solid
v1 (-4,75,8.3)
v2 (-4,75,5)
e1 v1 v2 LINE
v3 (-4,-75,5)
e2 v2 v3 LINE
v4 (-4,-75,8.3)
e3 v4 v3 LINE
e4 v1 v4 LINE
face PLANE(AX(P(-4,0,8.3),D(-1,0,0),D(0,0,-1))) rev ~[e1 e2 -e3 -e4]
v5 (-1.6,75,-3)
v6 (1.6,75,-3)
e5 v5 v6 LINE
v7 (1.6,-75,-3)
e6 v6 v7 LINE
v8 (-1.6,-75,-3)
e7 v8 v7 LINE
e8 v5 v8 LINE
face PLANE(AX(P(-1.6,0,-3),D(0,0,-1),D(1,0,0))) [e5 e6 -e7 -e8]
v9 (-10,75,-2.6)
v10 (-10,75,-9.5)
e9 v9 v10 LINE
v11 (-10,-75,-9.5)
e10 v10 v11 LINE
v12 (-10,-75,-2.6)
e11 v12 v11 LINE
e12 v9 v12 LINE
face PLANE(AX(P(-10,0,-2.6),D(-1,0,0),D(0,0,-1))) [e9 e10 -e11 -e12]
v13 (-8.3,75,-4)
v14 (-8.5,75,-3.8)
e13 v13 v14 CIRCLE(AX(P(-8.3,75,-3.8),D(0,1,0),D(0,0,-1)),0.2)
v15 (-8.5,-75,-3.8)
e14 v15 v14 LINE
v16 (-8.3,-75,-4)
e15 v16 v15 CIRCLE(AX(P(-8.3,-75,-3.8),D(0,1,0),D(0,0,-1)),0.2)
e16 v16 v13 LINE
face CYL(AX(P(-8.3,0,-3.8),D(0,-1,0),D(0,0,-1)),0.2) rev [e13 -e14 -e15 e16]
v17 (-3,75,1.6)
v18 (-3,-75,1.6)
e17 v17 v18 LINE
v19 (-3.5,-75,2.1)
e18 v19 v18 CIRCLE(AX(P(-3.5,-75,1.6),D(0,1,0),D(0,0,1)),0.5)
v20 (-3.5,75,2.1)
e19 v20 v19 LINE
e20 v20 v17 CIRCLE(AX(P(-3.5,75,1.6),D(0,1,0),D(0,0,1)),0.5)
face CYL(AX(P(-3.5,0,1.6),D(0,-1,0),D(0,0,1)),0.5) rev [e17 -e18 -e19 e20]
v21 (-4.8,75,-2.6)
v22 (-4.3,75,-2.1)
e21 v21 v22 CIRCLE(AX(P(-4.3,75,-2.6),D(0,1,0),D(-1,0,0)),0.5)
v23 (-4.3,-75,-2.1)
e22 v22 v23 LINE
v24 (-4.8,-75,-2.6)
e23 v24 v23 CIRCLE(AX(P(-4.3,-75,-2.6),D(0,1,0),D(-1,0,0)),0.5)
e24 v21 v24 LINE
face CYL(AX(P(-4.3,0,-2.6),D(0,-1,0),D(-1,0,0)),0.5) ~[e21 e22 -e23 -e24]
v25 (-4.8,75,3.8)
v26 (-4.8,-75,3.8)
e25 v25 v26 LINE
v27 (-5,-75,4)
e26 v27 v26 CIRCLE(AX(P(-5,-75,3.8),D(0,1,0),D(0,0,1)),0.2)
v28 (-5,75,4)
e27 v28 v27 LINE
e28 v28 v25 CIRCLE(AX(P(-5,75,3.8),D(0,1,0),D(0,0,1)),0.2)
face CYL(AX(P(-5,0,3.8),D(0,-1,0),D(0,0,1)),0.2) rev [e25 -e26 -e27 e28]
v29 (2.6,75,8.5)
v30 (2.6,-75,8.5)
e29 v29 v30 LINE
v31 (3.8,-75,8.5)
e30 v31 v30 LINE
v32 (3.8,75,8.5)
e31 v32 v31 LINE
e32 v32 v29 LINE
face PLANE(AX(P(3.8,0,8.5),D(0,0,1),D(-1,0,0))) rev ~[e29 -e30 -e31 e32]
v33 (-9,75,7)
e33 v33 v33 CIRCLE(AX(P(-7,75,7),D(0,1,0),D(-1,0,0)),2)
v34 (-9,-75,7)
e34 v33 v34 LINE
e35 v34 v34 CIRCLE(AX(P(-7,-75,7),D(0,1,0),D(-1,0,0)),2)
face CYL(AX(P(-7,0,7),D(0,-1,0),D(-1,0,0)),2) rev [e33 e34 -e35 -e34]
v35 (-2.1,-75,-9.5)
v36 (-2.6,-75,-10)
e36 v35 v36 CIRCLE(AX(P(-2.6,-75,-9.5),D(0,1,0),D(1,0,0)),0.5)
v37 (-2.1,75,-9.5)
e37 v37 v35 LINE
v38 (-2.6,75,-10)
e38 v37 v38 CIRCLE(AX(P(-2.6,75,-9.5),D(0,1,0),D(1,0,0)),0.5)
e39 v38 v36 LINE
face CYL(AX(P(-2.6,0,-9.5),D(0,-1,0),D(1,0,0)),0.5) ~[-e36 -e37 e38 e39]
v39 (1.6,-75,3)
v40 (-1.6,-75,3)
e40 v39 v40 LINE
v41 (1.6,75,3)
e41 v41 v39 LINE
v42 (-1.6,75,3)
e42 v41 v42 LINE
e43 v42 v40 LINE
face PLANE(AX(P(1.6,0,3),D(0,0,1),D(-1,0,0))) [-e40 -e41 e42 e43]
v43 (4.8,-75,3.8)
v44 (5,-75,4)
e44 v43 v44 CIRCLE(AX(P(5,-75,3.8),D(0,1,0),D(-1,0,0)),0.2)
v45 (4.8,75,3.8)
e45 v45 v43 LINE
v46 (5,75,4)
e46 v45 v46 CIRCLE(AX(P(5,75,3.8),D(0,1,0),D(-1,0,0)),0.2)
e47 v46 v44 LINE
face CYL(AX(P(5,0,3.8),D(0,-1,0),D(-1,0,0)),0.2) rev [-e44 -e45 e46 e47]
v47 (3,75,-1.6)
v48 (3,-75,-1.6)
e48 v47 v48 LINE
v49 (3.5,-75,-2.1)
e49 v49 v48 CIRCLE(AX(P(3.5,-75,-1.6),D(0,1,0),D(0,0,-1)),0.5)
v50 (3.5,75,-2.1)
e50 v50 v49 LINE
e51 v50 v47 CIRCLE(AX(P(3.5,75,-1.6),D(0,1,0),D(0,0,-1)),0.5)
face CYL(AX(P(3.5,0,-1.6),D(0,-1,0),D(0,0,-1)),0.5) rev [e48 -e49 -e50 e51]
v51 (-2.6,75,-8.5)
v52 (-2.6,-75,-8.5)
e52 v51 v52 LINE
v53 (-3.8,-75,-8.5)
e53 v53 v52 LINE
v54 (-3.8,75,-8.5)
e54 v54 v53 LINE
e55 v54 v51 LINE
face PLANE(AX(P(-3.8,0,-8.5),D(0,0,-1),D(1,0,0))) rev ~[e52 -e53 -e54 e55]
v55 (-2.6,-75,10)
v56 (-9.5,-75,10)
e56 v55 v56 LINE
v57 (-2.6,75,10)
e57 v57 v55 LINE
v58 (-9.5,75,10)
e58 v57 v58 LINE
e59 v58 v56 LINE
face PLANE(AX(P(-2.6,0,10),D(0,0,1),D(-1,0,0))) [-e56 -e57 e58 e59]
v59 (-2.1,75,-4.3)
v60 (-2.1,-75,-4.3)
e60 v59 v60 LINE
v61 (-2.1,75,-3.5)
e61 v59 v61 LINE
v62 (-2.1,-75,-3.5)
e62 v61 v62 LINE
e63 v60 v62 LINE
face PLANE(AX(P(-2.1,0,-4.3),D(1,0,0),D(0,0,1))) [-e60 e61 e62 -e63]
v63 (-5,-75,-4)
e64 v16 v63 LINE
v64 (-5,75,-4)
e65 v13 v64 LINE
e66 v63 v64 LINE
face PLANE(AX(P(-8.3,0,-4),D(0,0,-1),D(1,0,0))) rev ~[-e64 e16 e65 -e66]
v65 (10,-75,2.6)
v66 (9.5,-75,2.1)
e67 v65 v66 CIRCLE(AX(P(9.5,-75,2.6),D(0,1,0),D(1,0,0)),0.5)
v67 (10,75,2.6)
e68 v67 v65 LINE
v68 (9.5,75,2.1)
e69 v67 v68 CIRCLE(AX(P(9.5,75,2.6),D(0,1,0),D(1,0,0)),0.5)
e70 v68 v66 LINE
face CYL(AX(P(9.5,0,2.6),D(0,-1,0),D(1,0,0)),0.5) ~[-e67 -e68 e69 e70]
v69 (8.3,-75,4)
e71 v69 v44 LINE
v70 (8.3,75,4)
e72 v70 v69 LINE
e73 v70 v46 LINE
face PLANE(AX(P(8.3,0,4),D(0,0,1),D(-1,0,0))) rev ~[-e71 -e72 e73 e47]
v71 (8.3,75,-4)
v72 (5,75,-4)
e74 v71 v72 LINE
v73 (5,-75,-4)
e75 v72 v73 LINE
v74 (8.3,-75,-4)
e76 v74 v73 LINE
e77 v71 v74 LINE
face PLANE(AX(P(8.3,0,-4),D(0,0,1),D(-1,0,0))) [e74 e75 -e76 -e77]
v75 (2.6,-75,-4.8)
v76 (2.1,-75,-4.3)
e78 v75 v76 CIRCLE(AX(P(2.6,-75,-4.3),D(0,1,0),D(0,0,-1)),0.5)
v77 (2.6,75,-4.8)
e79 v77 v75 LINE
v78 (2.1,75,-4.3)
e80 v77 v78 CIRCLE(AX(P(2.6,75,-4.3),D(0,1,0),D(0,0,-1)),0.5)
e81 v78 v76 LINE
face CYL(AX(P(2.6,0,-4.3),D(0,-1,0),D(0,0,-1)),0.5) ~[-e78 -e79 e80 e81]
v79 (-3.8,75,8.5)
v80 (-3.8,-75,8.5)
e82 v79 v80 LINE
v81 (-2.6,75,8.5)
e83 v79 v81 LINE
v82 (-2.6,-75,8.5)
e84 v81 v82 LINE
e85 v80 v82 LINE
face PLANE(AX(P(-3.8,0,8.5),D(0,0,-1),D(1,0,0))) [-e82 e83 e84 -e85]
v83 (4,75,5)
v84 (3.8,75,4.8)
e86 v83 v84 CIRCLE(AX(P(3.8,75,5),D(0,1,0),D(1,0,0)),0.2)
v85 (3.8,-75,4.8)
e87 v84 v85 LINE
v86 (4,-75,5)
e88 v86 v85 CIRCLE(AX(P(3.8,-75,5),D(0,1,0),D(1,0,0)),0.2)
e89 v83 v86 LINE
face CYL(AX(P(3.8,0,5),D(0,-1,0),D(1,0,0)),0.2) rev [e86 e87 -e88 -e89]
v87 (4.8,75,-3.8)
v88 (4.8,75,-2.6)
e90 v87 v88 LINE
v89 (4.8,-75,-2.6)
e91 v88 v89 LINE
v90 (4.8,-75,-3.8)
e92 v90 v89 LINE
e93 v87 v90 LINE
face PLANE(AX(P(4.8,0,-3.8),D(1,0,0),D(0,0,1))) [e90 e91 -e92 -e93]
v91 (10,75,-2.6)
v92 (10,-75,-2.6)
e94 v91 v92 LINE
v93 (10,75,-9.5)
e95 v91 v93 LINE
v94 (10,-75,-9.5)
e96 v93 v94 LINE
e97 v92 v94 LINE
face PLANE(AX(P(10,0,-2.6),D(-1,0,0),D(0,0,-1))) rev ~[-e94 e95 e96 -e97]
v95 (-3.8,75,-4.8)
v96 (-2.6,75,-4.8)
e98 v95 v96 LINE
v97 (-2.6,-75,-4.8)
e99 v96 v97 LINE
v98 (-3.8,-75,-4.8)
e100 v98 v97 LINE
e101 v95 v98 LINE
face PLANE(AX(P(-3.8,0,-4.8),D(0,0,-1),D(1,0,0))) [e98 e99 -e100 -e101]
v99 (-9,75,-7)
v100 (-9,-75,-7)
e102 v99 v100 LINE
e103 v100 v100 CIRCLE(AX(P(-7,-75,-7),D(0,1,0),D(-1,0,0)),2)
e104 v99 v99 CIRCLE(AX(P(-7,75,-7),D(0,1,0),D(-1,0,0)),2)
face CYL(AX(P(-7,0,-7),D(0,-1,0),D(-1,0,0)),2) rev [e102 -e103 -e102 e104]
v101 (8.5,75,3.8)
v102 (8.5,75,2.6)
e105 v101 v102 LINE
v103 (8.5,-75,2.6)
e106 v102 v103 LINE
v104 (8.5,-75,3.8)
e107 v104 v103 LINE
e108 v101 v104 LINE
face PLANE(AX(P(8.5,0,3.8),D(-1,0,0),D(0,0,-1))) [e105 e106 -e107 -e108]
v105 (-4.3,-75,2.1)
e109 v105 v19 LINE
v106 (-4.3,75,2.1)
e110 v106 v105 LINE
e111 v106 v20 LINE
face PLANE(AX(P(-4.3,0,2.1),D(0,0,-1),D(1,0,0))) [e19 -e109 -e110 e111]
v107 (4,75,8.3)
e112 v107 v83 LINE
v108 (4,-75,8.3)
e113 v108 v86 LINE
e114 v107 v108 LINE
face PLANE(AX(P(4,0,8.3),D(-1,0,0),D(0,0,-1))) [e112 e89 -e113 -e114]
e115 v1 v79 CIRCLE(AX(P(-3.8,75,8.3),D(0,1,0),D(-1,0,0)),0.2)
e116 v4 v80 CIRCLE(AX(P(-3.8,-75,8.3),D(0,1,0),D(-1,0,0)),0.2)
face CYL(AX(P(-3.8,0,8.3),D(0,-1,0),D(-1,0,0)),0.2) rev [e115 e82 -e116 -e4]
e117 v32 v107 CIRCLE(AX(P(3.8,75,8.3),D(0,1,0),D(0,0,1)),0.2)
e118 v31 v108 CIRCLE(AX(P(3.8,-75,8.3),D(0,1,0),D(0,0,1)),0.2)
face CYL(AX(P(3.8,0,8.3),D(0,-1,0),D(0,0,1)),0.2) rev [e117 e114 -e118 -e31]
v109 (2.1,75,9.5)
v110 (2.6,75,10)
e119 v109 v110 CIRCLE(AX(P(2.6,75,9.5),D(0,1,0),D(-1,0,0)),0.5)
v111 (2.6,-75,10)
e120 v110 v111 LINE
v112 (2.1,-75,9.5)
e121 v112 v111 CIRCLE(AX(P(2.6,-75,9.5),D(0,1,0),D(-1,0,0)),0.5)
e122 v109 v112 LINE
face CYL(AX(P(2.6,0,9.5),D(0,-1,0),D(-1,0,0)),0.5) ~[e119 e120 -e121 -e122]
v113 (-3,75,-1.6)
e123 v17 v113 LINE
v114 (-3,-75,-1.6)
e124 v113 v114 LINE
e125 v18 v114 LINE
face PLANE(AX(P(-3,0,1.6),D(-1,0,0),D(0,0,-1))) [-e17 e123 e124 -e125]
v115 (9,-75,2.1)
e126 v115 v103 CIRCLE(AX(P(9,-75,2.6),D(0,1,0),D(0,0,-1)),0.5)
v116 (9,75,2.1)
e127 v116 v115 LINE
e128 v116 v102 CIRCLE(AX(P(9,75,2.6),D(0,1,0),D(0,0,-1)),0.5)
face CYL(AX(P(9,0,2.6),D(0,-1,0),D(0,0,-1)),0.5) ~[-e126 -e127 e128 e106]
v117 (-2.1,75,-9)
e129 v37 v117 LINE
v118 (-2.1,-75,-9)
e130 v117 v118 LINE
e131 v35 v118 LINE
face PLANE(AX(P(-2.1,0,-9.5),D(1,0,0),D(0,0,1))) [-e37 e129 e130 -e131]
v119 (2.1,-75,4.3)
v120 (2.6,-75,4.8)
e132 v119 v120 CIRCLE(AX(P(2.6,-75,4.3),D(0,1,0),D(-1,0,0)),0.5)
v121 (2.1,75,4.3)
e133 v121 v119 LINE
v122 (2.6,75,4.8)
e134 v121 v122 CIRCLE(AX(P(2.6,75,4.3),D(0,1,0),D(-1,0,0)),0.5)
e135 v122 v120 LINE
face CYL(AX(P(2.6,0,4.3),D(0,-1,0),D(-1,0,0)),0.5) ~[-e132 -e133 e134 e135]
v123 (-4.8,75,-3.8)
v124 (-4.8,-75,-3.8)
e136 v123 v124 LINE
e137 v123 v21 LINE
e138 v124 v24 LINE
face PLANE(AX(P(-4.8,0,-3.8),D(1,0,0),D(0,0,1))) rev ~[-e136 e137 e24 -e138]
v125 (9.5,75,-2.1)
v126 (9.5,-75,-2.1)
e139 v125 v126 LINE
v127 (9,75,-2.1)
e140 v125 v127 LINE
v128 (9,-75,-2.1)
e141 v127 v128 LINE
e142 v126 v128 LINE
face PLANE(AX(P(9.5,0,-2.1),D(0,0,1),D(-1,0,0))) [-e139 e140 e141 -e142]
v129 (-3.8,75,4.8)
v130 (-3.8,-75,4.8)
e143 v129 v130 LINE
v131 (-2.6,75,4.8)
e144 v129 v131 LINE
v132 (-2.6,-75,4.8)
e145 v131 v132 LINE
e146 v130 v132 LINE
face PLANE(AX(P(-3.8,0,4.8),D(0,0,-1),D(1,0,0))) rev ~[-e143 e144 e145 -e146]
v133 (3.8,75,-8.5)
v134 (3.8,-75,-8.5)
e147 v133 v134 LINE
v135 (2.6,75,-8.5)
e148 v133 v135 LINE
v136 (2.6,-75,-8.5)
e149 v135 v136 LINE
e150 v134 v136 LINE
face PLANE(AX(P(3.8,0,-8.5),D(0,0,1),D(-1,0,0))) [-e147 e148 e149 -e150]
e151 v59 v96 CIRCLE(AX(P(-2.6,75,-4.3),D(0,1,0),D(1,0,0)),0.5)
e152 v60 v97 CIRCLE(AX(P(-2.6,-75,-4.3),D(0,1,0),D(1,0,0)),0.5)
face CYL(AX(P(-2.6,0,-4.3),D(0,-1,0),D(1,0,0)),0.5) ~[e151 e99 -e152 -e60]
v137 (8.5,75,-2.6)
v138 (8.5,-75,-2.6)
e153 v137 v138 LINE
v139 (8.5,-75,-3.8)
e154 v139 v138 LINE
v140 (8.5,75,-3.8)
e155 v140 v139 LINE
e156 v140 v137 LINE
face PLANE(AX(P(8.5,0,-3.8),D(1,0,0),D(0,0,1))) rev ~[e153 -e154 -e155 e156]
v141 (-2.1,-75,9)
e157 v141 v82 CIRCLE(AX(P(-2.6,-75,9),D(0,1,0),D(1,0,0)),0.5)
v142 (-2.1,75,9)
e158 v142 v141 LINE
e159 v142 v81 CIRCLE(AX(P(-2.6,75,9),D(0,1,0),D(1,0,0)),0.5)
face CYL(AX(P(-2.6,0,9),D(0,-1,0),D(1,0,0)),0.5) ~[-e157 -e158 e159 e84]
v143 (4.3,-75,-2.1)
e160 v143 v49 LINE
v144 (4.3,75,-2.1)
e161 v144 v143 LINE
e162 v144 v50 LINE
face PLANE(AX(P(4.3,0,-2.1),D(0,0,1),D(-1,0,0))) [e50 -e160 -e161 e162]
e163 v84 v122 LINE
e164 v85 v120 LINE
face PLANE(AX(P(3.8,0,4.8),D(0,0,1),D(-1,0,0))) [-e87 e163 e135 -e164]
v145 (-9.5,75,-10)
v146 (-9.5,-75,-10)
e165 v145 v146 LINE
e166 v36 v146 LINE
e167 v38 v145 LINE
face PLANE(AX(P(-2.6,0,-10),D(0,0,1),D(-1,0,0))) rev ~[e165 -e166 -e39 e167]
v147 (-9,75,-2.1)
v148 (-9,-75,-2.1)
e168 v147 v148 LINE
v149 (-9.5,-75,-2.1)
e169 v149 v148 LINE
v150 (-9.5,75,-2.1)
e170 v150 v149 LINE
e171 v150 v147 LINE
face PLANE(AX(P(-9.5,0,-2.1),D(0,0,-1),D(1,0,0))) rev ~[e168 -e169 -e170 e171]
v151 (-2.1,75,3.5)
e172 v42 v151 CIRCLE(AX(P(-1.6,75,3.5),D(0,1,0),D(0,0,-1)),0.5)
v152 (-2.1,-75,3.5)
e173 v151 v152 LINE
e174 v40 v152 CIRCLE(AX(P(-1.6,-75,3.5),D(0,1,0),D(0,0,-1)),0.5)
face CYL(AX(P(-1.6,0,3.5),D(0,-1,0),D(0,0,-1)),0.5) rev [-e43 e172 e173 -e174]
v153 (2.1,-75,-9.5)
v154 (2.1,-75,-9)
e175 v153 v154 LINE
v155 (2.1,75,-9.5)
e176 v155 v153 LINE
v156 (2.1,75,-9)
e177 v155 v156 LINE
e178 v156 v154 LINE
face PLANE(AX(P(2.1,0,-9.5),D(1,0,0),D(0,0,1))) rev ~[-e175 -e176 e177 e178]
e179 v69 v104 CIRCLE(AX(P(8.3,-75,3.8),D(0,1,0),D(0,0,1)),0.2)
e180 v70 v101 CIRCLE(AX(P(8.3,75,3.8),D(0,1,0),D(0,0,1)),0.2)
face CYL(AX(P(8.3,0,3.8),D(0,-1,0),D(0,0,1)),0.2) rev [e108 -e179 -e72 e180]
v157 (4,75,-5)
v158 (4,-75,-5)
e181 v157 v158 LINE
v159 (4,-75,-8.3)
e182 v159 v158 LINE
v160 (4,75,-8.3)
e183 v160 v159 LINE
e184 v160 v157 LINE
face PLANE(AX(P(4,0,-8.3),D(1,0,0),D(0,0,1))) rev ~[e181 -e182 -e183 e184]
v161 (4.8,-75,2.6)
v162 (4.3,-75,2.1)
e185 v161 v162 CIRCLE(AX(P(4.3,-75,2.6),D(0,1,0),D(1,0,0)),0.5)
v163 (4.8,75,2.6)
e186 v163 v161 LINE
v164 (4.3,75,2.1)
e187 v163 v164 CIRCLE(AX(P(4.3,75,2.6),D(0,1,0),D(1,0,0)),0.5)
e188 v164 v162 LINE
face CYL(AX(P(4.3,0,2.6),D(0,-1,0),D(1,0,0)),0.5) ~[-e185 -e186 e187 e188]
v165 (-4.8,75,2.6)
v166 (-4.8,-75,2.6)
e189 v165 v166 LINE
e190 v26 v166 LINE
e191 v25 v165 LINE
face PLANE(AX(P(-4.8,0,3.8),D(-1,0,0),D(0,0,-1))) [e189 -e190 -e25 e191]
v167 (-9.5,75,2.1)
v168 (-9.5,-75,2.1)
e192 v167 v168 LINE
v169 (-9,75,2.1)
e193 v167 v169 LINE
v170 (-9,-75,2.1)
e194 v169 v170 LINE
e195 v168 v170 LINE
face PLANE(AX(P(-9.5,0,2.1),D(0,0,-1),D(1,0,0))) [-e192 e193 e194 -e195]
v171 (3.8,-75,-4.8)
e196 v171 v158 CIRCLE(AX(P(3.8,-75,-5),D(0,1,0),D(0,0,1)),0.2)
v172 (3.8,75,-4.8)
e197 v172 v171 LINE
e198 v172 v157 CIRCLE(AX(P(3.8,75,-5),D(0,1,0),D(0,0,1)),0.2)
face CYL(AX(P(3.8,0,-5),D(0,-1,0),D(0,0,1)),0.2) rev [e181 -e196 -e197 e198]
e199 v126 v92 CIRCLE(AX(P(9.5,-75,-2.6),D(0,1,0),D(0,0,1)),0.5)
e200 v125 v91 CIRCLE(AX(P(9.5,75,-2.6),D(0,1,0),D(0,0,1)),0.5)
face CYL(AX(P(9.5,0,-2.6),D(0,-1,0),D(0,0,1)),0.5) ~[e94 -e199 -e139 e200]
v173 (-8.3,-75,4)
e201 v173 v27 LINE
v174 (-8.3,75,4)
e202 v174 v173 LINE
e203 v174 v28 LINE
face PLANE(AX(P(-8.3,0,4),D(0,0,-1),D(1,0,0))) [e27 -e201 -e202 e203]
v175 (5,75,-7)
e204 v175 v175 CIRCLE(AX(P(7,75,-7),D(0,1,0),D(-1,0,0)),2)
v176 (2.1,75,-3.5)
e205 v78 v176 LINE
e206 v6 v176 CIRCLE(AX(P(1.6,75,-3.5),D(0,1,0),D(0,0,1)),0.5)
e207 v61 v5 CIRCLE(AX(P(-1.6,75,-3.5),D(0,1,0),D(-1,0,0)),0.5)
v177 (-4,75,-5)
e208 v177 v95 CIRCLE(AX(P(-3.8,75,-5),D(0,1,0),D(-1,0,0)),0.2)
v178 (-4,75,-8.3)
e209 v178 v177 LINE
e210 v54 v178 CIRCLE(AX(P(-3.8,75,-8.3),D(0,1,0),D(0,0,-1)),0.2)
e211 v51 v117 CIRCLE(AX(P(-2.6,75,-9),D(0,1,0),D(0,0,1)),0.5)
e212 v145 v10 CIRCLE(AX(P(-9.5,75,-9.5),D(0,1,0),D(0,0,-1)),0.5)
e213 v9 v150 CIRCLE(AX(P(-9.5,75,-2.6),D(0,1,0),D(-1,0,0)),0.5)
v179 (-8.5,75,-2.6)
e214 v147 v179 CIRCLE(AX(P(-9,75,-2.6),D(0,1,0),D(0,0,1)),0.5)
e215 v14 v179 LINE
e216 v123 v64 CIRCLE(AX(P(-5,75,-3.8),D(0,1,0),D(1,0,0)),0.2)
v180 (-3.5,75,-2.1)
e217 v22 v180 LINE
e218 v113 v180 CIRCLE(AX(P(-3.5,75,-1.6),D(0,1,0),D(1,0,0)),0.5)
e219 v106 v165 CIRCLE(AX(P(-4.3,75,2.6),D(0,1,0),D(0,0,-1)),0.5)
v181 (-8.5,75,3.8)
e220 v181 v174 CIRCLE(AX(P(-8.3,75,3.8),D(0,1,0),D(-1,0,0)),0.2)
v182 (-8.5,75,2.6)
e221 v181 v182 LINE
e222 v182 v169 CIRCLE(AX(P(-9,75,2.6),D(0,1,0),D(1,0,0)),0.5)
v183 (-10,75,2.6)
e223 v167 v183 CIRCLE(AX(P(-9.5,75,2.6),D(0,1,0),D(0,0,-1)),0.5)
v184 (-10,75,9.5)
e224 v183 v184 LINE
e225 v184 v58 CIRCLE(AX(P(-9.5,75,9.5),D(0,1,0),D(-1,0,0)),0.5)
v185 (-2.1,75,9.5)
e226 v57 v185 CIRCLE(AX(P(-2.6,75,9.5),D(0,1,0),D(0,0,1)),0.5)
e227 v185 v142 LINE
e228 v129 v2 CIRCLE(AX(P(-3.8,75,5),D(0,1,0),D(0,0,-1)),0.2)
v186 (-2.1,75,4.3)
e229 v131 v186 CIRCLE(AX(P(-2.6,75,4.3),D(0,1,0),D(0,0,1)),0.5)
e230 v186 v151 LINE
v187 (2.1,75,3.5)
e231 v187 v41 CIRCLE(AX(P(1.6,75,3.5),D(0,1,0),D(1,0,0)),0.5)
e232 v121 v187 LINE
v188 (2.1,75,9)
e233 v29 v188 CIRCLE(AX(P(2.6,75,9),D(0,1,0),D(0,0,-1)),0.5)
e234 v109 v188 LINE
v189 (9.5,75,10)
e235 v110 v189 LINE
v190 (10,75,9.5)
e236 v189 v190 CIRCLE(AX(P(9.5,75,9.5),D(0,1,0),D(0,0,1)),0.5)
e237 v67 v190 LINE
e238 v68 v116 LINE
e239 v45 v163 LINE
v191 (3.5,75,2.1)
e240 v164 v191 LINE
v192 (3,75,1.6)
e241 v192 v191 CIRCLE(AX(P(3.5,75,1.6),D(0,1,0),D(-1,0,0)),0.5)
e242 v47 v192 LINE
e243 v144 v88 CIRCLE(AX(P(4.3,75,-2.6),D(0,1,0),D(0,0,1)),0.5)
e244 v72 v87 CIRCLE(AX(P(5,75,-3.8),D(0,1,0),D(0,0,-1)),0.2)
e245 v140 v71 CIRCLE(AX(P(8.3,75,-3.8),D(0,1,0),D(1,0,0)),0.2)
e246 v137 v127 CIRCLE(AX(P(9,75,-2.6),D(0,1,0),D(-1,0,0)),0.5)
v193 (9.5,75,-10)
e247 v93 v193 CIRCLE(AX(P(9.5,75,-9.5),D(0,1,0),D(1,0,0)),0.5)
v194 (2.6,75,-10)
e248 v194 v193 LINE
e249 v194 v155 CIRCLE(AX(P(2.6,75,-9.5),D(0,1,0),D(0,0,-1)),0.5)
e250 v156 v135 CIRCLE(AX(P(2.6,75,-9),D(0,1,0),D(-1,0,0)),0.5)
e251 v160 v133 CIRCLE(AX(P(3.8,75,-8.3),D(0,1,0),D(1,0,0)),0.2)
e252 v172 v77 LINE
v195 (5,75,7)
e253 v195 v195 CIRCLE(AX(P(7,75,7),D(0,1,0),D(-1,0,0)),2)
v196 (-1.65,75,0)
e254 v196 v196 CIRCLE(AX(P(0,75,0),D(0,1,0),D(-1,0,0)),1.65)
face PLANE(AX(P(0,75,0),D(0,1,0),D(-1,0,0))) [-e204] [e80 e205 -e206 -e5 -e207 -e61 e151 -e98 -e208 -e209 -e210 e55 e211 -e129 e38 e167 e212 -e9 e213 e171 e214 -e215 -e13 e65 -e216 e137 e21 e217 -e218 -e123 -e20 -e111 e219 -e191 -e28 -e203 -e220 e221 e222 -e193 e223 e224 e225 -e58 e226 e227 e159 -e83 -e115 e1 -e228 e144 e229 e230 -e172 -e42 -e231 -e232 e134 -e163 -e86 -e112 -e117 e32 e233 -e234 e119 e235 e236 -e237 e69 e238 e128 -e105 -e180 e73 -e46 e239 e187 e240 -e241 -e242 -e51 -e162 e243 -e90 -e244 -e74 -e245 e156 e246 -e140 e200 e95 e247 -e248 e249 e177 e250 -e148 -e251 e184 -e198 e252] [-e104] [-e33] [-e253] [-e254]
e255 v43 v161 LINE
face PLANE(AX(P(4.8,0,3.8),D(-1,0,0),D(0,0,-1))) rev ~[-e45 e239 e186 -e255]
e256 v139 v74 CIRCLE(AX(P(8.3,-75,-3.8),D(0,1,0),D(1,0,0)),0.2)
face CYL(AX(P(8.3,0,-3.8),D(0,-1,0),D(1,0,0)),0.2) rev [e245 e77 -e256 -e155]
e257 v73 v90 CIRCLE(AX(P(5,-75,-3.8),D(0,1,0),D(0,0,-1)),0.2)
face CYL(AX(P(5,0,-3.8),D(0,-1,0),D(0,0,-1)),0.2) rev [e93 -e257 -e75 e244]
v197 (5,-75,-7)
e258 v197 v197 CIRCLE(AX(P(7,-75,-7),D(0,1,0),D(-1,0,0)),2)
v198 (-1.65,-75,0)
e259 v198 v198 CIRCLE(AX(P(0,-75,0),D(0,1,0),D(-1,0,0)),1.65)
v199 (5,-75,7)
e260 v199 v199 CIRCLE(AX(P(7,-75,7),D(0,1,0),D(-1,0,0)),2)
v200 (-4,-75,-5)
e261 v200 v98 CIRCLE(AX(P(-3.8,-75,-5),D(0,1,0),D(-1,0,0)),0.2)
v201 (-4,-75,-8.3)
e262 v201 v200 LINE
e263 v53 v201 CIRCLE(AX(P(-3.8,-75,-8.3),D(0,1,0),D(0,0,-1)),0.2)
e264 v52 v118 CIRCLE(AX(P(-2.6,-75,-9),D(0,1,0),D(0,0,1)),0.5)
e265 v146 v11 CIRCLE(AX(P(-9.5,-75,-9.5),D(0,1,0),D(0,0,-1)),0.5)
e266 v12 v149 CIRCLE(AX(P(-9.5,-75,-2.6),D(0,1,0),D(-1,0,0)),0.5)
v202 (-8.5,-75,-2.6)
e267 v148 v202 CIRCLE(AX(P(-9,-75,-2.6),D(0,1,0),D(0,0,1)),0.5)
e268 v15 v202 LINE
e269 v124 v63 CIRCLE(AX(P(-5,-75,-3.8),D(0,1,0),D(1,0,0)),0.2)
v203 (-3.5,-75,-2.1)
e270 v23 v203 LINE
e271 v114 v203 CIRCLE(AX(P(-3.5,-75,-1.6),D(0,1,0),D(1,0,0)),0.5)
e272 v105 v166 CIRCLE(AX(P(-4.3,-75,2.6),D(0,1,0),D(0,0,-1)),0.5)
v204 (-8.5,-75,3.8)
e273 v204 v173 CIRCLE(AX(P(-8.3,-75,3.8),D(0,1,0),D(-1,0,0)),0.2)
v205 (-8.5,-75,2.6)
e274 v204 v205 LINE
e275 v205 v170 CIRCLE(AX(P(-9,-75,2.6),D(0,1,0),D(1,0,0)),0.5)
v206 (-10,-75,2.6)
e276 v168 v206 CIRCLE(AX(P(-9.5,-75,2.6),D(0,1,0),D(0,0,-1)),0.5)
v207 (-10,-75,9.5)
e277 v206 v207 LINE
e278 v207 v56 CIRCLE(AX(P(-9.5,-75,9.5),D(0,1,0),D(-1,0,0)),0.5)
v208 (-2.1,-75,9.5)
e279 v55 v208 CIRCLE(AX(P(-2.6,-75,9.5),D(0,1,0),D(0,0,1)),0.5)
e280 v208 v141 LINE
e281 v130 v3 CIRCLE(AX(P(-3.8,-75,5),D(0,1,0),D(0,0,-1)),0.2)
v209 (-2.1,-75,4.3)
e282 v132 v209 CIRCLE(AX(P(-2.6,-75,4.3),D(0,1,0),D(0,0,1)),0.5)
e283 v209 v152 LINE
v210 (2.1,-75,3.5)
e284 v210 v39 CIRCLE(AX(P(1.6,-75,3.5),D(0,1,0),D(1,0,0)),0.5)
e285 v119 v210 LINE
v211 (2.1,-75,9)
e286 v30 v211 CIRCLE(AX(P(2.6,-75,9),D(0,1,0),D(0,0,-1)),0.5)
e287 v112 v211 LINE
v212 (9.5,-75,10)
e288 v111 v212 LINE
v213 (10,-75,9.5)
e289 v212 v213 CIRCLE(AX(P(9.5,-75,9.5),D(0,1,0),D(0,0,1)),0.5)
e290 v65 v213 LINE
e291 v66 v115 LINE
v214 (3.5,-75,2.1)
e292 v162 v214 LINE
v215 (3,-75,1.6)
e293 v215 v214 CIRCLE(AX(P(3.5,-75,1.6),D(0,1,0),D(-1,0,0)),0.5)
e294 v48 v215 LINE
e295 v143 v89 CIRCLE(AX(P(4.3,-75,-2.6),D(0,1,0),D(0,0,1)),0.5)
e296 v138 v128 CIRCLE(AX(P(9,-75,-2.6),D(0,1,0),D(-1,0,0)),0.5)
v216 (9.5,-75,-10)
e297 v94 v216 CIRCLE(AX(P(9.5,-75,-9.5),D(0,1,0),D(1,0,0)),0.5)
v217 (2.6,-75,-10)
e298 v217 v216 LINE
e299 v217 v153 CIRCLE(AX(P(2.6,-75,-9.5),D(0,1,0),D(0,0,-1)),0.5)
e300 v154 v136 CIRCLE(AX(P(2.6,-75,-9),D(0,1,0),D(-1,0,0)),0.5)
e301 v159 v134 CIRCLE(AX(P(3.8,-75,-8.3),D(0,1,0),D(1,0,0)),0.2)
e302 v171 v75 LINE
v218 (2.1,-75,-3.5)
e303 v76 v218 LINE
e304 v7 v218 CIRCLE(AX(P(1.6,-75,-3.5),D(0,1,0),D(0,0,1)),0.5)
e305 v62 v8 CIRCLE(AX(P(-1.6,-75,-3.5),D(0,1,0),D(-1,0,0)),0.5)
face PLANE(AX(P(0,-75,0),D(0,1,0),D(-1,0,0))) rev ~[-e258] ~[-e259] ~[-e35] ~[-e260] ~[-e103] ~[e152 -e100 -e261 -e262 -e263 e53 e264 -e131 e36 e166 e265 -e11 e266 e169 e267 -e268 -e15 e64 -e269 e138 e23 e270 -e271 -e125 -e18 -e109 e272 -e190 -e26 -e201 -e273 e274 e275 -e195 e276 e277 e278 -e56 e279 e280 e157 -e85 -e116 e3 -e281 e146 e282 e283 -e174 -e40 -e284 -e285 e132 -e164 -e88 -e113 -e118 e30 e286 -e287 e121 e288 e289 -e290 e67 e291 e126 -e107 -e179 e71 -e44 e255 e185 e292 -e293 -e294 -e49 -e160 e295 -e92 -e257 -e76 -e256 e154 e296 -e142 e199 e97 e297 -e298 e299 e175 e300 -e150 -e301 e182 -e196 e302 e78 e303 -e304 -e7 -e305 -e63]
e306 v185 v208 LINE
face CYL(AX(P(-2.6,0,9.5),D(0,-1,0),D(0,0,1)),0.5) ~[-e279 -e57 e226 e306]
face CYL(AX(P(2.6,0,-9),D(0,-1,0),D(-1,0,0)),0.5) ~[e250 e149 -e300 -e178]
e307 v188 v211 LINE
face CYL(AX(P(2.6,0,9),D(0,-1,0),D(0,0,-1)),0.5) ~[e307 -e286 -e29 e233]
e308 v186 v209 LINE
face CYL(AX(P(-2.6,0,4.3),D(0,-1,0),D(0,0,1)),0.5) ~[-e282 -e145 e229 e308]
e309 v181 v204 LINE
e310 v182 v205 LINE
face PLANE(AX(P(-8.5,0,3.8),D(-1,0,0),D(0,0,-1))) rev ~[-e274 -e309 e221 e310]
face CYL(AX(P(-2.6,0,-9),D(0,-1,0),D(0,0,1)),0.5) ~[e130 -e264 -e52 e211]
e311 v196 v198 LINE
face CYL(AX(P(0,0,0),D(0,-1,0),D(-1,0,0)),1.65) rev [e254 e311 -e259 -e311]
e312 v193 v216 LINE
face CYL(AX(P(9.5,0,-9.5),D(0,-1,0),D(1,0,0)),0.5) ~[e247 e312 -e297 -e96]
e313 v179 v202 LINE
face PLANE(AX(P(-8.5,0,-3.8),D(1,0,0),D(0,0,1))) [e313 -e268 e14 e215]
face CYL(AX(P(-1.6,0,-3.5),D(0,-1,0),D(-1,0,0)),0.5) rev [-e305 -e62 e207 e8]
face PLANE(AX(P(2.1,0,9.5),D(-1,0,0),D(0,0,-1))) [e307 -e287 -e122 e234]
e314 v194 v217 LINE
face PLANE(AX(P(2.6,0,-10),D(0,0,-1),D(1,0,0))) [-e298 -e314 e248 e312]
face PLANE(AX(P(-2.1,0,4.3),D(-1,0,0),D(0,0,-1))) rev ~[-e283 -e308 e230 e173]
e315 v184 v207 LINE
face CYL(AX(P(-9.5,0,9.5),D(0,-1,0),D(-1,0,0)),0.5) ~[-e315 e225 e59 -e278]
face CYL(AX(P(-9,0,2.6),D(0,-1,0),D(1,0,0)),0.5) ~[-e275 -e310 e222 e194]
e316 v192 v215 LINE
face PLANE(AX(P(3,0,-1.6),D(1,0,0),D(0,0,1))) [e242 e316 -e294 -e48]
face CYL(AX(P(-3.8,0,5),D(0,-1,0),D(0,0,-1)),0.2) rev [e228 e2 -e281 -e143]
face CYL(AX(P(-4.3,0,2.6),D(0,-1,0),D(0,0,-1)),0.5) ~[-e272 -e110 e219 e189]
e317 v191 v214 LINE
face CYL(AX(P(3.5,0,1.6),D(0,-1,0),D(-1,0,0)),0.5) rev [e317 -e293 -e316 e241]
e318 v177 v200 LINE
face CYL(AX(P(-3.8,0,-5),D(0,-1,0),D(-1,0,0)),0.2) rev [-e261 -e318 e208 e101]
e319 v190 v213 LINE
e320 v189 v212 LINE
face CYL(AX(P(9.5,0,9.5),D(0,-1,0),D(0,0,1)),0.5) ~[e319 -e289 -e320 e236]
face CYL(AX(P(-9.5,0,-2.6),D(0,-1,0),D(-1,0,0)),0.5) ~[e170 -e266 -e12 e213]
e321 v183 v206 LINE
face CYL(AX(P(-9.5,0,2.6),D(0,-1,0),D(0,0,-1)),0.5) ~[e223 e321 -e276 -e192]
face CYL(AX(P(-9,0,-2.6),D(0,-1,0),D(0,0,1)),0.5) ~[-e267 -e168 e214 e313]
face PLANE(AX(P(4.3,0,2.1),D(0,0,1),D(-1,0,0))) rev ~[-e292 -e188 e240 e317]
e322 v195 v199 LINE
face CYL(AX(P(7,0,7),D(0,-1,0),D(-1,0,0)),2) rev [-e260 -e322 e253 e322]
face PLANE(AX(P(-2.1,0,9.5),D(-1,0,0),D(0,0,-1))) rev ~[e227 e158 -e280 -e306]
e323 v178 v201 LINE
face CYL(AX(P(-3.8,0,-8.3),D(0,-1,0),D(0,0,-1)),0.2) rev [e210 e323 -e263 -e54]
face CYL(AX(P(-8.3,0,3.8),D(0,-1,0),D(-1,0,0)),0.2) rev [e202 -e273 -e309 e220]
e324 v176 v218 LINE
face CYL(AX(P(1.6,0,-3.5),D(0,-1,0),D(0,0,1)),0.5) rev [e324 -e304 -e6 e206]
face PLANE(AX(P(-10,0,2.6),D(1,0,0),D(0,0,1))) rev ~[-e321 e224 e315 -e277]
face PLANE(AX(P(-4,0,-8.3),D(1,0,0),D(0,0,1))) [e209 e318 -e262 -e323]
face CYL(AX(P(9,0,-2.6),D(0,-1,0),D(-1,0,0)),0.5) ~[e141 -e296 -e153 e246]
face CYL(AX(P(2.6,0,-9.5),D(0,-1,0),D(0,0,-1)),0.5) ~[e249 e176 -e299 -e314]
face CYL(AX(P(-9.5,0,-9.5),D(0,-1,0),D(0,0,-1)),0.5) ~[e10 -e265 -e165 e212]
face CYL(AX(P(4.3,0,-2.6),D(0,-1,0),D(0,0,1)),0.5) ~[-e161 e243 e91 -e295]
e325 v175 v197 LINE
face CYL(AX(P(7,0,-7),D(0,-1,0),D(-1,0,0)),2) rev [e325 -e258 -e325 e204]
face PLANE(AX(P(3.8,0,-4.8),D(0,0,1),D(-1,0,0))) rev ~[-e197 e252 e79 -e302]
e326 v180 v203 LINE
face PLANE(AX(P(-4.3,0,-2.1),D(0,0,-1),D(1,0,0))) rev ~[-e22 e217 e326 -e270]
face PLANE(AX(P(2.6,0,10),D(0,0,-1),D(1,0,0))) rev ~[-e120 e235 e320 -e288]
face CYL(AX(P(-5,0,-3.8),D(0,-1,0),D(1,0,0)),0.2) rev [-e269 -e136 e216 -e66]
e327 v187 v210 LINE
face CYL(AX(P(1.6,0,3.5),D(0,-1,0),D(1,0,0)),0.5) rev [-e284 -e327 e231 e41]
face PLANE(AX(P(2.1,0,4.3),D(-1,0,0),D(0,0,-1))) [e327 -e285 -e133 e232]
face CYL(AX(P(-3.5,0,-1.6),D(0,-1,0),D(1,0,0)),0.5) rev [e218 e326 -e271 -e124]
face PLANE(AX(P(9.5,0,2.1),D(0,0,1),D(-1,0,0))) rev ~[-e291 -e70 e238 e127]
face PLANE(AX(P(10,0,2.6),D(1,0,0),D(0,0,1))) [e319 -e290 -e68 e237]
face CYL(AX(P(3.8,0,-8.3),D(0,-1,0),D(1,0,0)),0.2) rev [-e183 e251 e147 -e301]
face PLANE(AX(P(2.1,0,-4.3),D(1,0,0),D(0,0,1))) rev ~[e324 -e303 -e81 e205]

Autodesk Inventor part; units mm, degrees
ref_plane "YZ Plane" through (0, 0, 0) normal (1, 0, 0) x (0, 1, 0)
ref_plane "XZ Plane" through (0, 0, 0) normal (0, 1, 0) x (-1, 0, 0)
ref_plane "XY Plane" through (0, 0, 0) normal (0, 0, 1) x (1, 0, 0)
sketch "スケッチ" plane through (0, 0, 0) normal (0, 1, 0) x (-1, 0, 0)
  line L0 (8.5, -3.8) -> (8.5, -2.6)
  line L1 (4, -8.3) -> (4, -5)
  circle A0 centre (7, -7) radius 2
  line L2 (10, -2.6) -> (10, -9.5)
  line L3 (2.6, -10) -> (9.5, -10)
  line L4 (2.1, -9.5) -> (2.1, -9)
  line L5 (8.5, -2.1) -> (8.5, -4)
  line L6 (3.8, -4.8) -> (2.6, -4.8)
  line L7 (4.8, -3.8) -> (4.8, -2.6)
  arc A1 (2.1, -4.3) -> (2.6, -4.8) centre (2.6, -4.3) ccw
  arc A2 (2.6, -8.5) -> (2.1, -9) centre (2.6, -9) ccw
  arc A3 (3.8, -8.5) -> (4, -8.3) centre (3.8, -8.3) ccw
  arc A4 (4, -5) -> (3.8, -4.8) centre (3.8, -5) ccw
  arc A5 (2.1, -3.5) -> (1.6, -3) centre (1.6, -3.5) ccw
  arc A6 (2.1, -9.5) -> (2.6, -10) centre (2.6, -9.5) ccw
  arc A7 (9.5, -10) -> (10, -9.5) centre (9.5, -9.5) ccw
  arc A8 (10, -2.6) -> (9.5, -2.1) centre (9.5, -2.6) ccw
  arc A9 (9, -2.1) -> (8.5, -2.6) centre (9, -2.6) ccw
  arc A10 (8.3, -4) -> (8.5, -3.8) centre (8.3, -3.8) ccw
  arc A11 (4.8, -3.8) -> (5, -4) centre (5, -3.8) ccw
  line L8 (4.3, -2.1) -> (3.5, -2.1)
  arc A12 (4.8, -2.6) -> (4.3, -2.1) centre (4.3, -2.6) ccw
  arc A13 (3, -1.6) -> (3.5, -2.1) centre (3.5, -1.6) ccw
  line L9 (2.1, -4.3) -> (2.1, -3.5)
  line L10 (3.8, -8.5) -> (2.6, -8.5)
  line L11 (9.5, -2.1) -> (9, -2.1)
  line L12 (8.3, -4) -> (5, -4)
  circle A14 centre (0, 0) radius 1.65
  arc A15 (8.5, 2.6) -> (9, 2.1) centre (9, 2.6) ccw
  line L13 (8.5, 3.8) -> (8.5, 2.6)
  arc A16 (8.5, 3.8) -> (8.3, 4) centre (8.3, 3.8) ccw
  line L14 (8.3, 4) -> (5, 4)
  line L15 (10, 2.6) -> (10, 9.5)
  arc A17 (10, 9.5) -> (9.5, 10) centre (9.5, 9.5) ccw
  circle A18 centre (7, 7) radius 2
  line L16 (4, 8.3) -> (4, 5)
  line L17 (2.6, 10) -> (9.5, 10)
  line L18 (9.5, 2.1) -> (9, 2.1)
  arc A19 (9.5, 2.1) -> (10, 2.6) centre (9.5, 2.6) ccw
  line L19 (3.8, 8.5) -> (2.6, 8.5)
  line L20 (4.8, 3.8) -> (4.8, 2.6)
  arc A20 (4.3, 2.1) -> (4.8, 2.6) centre (4.3, 2.6) ccw
  line L21 (2.1, 8.5) -> (4, 8.5)
  arc A21 (4, 8.3) -> (3.8, 8.5) centre (3.8, 8.3) ccw
  arc A22 (2.1, 9) -> (2.6, 8.5) centre (2.6, 9) ccw
  arc A23 (2.6, 10) -> (2.1, 9.5) centre (2.6, 9.5) ccw
  line L22 (2.1, 9.5) -> (2.1, 9)
  arc A24 (1.6, 3) -> (2.1, 3.5) centre (1.6, 3.5) ccw
  line L23 (3.8, 4.8) -> (2.6, 4.8)
  arc A25 (5, 4) -> (4.8, 3.8) centre (5, 3.8) ccw
  arc A26 (3.8, 4.8) -> (4, 5) centre (3.8, 5) ccw
  line L24 (4.3, 2.1) -> (3.5, 2.1)
  arc A27 (2.6, 4.8) -> (2.1, 4.3) centre (2.6, 4.3) ccw
  line L25 (2.1, 4.3) -> (2.1, 3.5)
  arc A28 (3.5, 2.1) -> (3, 1.6) centre (3.5, 1.6) ccw
  arc A29 (-2.6, 8.5) -> (-2.1, 9) centre (-2.6, 9) ccw
  line L26 (-3.8, 8.5) -> (-2.6, 8.5)
  arc A30 (-3.8, 8.5) -> (-4, 8.3) centre (-3.8, 8.3) ccw
  line L27 (-4, 8.3) -> (-4, 5)
  line L28 (-2.6, 10) -> (-9.5, 10)
  arc A31 (-9.5, 10) -> (-10, 9.5) centre (-9.5, 9.5) ccw
  circle A32 centre (-7, 7) radius 2
  line L29 (-8.3, 4) -> (-5, 4)
  line L30 (-10, 2.6) -> (-10, 9.5)
  line L31 (-2.1, 9.5) -> (-2.1, 9)
  arc A33 (-2.1, 9.5) -> (-2.6, 10) centre (-2.6, 9.5) ccw
  line L32 (-8.5, 3.8) -> (-8.5, 2.6)
  line L33 (-3.8, 4.8) -> (-2.6, 4.8)
  arc A34 (-2.1, 4.3) -> (-2.6, 4.8) centre (-2.6, 4.3) ccw
  line L34 (-8.5, 2.1) -> (-8.5, 4)
  arc A35 (-8.3, 4) -> (-8.5, 3.8) centre (-8.3, 3.8) ccw
  arc A36 (-9, 2.1) -> (-8.5, 2.6) centre (-9, 2.6) ccw
  arc A37 (-10, 2.6) -> (-9.5, 2.1) centre (-9.5, 2.6) ccw
  line L35 (-9.5, 2.1) -> (-9, 2.1)
  arc A38 (-3, 1.6) -> (-3.5, 2.1) centre (-3.5, 1.6) ccw
  line L36 (-4.8, 3.8) -> (-4.8, 2.6)
  arc A39 (-4, 5) -> (-3.8, 4.8) centre (-3.8, 5) ccw
  arc A40 (-4.8, 3.8) -> (-5, 4) centre (-5, 3.8) ccw
  line L37 (-2.1, 4.3) -> (-2.1, 3.5)
  arc A41 (-4.8, 2.6) -> (-4.3, 2.1) centre (-4.3, 2.6) ccw
  line L38 (-4.3, 2.1) -> (-3.5, 2.1)
  arc A42 (-2.1, 3.5) -> (-1.6, 3) centre (-1.6, 3.5) ccw
  arc A43 (-8.5, -2.6) -> (-9, -2.1) centre (-9, -2.6) ccw
  line L39 (-8.5, -3.8) -> (-8.5, -2.6)
  arc A44 (-8.5, -3.8) -> (-8.3, -4) centre (-8.3, -3.8) ccw
  line L40 (-8.3, -4) -> (-5, -4)
  line L41 (-10, -2.6) -> (-10, -9.5)
  arc A45 (-10, -9.5) -> (-9.5, -10) centre (-9.5, -9.5) ccw
  circle A46 centre (-7, -7) radius 2
  line L42 (-4, -8.3) -> (-4, -5)
  line L43 (-2.6, -10) -> (-9.5, -10)
  line L44 (-9.5, -2.1) -> (-9, -2.1)
  arc A47 (-9.5, -2.1) -> (-10, -2.6) centre (-9.5, -2.6) ccw
  line L45 (-3.8, -8.5) -> (-2.6, -8.5)
  line L46 (-4.8, -3.8) -> (-4.8, -2.6)
  arc A48 (-4.3, -2.1) -> (-4.8, -2.6) centre (-4.3, -2.6) ccw
  line L47 (-2.1, -8.5) -> (-4, -8.5)
  arc A49 (-4, -8.3) -> (-3.8, -8.5) centre (-3.8, -8.3) ccw
  arc A50 (-2.1, -9) -> (-2.6, -8.5) centre (-2.6, -9) ccw
  arc A51 (-2.6, -10) -> (-2.1, -9.5) centre (-2.6, -9.5) ccw
  line L48 (-2.1, -9.5) -> (-2.1, -9)
  arc A52 (-1.6, -3) -> (-2.1, -3.5) centre (-1.6, -3.5) ccw
  line L49 (-3.8, -4.8) -> (-2.6, -4.8)
  arc A53 (-5, -4) -> (-4.8, -3.8) centre (-5, -3.8) ccw
  arc A54 (-3.8, -4.8) -> (-4, -5) centre (-3.8, -5) ccw
  line L50 (-4.3, -2.1) -> (-3.5, -2.1)
  arc A55 (-2.6, -4.8) -> (-2.1, -4.3) centre (-2.6, -4.3) ccw
  line L51 (-2.1, -4.3) -> (-2.1, -3.5)
  arc A56 (-3.5, -2.1) -> (-3, -1.6) centre (-3.5, -1.6) ccw
  line L52 (1.6, -3) -> (-1.6, -3)
  line L53 (-3, -1.6) -> (-3, 1.6)
  line L54 (-1.6, 3) -> (1.6, 3)
  line L55 (3, 1.6) -> (3, -1.6)
  point P0 (2.1, -10)
  point P1 (10, 2.1)
  point P2 (-2.1, 10)
  point P3 (-10, -2.1)
  dimension "d12" = 4
  dimension "d14" = 3.7
  dimension "d16" = 0.5
  dimension "d17" = 0.5
  dimension "d18" = 0.2
  dimension "d19" = 0.5
  dimension "d20" = 0.5
  dimension "d24" = 0.5
  dimension "d25" = 0.2
  dimension "d28" = 0.5
  dimension "d31" = 1.5
  dimension "d36" = 3.7
  dimension "d37" = 1.5
  dimension "d58" = 3.3
  dimension "d65" = 10
  dimension "d67" = 2.1
  dimension "d68" = 2.1
  dimension "d69" = 1.9
  dimension "d70" = 7
  dimension "d72" = 2.1
  dimension "d73" = 2.1
  dimension "d74" = 1.9
  dimension "d75" = 7
  dimension "d76" = 10
  dimension "d80" = 360
  dimension "d82" = 3
extrude "ボディ" add sketch "スケッチ" along normal mid plane 150
equation "\"G_OFFSET_START\" = 0"
equation "\"G_OFFSET_END\" = 0"
equation "\"G_L\" = d90"
equation "\"d90\" = 330"
properties part number "s150" material "アルミニウム 6061"
